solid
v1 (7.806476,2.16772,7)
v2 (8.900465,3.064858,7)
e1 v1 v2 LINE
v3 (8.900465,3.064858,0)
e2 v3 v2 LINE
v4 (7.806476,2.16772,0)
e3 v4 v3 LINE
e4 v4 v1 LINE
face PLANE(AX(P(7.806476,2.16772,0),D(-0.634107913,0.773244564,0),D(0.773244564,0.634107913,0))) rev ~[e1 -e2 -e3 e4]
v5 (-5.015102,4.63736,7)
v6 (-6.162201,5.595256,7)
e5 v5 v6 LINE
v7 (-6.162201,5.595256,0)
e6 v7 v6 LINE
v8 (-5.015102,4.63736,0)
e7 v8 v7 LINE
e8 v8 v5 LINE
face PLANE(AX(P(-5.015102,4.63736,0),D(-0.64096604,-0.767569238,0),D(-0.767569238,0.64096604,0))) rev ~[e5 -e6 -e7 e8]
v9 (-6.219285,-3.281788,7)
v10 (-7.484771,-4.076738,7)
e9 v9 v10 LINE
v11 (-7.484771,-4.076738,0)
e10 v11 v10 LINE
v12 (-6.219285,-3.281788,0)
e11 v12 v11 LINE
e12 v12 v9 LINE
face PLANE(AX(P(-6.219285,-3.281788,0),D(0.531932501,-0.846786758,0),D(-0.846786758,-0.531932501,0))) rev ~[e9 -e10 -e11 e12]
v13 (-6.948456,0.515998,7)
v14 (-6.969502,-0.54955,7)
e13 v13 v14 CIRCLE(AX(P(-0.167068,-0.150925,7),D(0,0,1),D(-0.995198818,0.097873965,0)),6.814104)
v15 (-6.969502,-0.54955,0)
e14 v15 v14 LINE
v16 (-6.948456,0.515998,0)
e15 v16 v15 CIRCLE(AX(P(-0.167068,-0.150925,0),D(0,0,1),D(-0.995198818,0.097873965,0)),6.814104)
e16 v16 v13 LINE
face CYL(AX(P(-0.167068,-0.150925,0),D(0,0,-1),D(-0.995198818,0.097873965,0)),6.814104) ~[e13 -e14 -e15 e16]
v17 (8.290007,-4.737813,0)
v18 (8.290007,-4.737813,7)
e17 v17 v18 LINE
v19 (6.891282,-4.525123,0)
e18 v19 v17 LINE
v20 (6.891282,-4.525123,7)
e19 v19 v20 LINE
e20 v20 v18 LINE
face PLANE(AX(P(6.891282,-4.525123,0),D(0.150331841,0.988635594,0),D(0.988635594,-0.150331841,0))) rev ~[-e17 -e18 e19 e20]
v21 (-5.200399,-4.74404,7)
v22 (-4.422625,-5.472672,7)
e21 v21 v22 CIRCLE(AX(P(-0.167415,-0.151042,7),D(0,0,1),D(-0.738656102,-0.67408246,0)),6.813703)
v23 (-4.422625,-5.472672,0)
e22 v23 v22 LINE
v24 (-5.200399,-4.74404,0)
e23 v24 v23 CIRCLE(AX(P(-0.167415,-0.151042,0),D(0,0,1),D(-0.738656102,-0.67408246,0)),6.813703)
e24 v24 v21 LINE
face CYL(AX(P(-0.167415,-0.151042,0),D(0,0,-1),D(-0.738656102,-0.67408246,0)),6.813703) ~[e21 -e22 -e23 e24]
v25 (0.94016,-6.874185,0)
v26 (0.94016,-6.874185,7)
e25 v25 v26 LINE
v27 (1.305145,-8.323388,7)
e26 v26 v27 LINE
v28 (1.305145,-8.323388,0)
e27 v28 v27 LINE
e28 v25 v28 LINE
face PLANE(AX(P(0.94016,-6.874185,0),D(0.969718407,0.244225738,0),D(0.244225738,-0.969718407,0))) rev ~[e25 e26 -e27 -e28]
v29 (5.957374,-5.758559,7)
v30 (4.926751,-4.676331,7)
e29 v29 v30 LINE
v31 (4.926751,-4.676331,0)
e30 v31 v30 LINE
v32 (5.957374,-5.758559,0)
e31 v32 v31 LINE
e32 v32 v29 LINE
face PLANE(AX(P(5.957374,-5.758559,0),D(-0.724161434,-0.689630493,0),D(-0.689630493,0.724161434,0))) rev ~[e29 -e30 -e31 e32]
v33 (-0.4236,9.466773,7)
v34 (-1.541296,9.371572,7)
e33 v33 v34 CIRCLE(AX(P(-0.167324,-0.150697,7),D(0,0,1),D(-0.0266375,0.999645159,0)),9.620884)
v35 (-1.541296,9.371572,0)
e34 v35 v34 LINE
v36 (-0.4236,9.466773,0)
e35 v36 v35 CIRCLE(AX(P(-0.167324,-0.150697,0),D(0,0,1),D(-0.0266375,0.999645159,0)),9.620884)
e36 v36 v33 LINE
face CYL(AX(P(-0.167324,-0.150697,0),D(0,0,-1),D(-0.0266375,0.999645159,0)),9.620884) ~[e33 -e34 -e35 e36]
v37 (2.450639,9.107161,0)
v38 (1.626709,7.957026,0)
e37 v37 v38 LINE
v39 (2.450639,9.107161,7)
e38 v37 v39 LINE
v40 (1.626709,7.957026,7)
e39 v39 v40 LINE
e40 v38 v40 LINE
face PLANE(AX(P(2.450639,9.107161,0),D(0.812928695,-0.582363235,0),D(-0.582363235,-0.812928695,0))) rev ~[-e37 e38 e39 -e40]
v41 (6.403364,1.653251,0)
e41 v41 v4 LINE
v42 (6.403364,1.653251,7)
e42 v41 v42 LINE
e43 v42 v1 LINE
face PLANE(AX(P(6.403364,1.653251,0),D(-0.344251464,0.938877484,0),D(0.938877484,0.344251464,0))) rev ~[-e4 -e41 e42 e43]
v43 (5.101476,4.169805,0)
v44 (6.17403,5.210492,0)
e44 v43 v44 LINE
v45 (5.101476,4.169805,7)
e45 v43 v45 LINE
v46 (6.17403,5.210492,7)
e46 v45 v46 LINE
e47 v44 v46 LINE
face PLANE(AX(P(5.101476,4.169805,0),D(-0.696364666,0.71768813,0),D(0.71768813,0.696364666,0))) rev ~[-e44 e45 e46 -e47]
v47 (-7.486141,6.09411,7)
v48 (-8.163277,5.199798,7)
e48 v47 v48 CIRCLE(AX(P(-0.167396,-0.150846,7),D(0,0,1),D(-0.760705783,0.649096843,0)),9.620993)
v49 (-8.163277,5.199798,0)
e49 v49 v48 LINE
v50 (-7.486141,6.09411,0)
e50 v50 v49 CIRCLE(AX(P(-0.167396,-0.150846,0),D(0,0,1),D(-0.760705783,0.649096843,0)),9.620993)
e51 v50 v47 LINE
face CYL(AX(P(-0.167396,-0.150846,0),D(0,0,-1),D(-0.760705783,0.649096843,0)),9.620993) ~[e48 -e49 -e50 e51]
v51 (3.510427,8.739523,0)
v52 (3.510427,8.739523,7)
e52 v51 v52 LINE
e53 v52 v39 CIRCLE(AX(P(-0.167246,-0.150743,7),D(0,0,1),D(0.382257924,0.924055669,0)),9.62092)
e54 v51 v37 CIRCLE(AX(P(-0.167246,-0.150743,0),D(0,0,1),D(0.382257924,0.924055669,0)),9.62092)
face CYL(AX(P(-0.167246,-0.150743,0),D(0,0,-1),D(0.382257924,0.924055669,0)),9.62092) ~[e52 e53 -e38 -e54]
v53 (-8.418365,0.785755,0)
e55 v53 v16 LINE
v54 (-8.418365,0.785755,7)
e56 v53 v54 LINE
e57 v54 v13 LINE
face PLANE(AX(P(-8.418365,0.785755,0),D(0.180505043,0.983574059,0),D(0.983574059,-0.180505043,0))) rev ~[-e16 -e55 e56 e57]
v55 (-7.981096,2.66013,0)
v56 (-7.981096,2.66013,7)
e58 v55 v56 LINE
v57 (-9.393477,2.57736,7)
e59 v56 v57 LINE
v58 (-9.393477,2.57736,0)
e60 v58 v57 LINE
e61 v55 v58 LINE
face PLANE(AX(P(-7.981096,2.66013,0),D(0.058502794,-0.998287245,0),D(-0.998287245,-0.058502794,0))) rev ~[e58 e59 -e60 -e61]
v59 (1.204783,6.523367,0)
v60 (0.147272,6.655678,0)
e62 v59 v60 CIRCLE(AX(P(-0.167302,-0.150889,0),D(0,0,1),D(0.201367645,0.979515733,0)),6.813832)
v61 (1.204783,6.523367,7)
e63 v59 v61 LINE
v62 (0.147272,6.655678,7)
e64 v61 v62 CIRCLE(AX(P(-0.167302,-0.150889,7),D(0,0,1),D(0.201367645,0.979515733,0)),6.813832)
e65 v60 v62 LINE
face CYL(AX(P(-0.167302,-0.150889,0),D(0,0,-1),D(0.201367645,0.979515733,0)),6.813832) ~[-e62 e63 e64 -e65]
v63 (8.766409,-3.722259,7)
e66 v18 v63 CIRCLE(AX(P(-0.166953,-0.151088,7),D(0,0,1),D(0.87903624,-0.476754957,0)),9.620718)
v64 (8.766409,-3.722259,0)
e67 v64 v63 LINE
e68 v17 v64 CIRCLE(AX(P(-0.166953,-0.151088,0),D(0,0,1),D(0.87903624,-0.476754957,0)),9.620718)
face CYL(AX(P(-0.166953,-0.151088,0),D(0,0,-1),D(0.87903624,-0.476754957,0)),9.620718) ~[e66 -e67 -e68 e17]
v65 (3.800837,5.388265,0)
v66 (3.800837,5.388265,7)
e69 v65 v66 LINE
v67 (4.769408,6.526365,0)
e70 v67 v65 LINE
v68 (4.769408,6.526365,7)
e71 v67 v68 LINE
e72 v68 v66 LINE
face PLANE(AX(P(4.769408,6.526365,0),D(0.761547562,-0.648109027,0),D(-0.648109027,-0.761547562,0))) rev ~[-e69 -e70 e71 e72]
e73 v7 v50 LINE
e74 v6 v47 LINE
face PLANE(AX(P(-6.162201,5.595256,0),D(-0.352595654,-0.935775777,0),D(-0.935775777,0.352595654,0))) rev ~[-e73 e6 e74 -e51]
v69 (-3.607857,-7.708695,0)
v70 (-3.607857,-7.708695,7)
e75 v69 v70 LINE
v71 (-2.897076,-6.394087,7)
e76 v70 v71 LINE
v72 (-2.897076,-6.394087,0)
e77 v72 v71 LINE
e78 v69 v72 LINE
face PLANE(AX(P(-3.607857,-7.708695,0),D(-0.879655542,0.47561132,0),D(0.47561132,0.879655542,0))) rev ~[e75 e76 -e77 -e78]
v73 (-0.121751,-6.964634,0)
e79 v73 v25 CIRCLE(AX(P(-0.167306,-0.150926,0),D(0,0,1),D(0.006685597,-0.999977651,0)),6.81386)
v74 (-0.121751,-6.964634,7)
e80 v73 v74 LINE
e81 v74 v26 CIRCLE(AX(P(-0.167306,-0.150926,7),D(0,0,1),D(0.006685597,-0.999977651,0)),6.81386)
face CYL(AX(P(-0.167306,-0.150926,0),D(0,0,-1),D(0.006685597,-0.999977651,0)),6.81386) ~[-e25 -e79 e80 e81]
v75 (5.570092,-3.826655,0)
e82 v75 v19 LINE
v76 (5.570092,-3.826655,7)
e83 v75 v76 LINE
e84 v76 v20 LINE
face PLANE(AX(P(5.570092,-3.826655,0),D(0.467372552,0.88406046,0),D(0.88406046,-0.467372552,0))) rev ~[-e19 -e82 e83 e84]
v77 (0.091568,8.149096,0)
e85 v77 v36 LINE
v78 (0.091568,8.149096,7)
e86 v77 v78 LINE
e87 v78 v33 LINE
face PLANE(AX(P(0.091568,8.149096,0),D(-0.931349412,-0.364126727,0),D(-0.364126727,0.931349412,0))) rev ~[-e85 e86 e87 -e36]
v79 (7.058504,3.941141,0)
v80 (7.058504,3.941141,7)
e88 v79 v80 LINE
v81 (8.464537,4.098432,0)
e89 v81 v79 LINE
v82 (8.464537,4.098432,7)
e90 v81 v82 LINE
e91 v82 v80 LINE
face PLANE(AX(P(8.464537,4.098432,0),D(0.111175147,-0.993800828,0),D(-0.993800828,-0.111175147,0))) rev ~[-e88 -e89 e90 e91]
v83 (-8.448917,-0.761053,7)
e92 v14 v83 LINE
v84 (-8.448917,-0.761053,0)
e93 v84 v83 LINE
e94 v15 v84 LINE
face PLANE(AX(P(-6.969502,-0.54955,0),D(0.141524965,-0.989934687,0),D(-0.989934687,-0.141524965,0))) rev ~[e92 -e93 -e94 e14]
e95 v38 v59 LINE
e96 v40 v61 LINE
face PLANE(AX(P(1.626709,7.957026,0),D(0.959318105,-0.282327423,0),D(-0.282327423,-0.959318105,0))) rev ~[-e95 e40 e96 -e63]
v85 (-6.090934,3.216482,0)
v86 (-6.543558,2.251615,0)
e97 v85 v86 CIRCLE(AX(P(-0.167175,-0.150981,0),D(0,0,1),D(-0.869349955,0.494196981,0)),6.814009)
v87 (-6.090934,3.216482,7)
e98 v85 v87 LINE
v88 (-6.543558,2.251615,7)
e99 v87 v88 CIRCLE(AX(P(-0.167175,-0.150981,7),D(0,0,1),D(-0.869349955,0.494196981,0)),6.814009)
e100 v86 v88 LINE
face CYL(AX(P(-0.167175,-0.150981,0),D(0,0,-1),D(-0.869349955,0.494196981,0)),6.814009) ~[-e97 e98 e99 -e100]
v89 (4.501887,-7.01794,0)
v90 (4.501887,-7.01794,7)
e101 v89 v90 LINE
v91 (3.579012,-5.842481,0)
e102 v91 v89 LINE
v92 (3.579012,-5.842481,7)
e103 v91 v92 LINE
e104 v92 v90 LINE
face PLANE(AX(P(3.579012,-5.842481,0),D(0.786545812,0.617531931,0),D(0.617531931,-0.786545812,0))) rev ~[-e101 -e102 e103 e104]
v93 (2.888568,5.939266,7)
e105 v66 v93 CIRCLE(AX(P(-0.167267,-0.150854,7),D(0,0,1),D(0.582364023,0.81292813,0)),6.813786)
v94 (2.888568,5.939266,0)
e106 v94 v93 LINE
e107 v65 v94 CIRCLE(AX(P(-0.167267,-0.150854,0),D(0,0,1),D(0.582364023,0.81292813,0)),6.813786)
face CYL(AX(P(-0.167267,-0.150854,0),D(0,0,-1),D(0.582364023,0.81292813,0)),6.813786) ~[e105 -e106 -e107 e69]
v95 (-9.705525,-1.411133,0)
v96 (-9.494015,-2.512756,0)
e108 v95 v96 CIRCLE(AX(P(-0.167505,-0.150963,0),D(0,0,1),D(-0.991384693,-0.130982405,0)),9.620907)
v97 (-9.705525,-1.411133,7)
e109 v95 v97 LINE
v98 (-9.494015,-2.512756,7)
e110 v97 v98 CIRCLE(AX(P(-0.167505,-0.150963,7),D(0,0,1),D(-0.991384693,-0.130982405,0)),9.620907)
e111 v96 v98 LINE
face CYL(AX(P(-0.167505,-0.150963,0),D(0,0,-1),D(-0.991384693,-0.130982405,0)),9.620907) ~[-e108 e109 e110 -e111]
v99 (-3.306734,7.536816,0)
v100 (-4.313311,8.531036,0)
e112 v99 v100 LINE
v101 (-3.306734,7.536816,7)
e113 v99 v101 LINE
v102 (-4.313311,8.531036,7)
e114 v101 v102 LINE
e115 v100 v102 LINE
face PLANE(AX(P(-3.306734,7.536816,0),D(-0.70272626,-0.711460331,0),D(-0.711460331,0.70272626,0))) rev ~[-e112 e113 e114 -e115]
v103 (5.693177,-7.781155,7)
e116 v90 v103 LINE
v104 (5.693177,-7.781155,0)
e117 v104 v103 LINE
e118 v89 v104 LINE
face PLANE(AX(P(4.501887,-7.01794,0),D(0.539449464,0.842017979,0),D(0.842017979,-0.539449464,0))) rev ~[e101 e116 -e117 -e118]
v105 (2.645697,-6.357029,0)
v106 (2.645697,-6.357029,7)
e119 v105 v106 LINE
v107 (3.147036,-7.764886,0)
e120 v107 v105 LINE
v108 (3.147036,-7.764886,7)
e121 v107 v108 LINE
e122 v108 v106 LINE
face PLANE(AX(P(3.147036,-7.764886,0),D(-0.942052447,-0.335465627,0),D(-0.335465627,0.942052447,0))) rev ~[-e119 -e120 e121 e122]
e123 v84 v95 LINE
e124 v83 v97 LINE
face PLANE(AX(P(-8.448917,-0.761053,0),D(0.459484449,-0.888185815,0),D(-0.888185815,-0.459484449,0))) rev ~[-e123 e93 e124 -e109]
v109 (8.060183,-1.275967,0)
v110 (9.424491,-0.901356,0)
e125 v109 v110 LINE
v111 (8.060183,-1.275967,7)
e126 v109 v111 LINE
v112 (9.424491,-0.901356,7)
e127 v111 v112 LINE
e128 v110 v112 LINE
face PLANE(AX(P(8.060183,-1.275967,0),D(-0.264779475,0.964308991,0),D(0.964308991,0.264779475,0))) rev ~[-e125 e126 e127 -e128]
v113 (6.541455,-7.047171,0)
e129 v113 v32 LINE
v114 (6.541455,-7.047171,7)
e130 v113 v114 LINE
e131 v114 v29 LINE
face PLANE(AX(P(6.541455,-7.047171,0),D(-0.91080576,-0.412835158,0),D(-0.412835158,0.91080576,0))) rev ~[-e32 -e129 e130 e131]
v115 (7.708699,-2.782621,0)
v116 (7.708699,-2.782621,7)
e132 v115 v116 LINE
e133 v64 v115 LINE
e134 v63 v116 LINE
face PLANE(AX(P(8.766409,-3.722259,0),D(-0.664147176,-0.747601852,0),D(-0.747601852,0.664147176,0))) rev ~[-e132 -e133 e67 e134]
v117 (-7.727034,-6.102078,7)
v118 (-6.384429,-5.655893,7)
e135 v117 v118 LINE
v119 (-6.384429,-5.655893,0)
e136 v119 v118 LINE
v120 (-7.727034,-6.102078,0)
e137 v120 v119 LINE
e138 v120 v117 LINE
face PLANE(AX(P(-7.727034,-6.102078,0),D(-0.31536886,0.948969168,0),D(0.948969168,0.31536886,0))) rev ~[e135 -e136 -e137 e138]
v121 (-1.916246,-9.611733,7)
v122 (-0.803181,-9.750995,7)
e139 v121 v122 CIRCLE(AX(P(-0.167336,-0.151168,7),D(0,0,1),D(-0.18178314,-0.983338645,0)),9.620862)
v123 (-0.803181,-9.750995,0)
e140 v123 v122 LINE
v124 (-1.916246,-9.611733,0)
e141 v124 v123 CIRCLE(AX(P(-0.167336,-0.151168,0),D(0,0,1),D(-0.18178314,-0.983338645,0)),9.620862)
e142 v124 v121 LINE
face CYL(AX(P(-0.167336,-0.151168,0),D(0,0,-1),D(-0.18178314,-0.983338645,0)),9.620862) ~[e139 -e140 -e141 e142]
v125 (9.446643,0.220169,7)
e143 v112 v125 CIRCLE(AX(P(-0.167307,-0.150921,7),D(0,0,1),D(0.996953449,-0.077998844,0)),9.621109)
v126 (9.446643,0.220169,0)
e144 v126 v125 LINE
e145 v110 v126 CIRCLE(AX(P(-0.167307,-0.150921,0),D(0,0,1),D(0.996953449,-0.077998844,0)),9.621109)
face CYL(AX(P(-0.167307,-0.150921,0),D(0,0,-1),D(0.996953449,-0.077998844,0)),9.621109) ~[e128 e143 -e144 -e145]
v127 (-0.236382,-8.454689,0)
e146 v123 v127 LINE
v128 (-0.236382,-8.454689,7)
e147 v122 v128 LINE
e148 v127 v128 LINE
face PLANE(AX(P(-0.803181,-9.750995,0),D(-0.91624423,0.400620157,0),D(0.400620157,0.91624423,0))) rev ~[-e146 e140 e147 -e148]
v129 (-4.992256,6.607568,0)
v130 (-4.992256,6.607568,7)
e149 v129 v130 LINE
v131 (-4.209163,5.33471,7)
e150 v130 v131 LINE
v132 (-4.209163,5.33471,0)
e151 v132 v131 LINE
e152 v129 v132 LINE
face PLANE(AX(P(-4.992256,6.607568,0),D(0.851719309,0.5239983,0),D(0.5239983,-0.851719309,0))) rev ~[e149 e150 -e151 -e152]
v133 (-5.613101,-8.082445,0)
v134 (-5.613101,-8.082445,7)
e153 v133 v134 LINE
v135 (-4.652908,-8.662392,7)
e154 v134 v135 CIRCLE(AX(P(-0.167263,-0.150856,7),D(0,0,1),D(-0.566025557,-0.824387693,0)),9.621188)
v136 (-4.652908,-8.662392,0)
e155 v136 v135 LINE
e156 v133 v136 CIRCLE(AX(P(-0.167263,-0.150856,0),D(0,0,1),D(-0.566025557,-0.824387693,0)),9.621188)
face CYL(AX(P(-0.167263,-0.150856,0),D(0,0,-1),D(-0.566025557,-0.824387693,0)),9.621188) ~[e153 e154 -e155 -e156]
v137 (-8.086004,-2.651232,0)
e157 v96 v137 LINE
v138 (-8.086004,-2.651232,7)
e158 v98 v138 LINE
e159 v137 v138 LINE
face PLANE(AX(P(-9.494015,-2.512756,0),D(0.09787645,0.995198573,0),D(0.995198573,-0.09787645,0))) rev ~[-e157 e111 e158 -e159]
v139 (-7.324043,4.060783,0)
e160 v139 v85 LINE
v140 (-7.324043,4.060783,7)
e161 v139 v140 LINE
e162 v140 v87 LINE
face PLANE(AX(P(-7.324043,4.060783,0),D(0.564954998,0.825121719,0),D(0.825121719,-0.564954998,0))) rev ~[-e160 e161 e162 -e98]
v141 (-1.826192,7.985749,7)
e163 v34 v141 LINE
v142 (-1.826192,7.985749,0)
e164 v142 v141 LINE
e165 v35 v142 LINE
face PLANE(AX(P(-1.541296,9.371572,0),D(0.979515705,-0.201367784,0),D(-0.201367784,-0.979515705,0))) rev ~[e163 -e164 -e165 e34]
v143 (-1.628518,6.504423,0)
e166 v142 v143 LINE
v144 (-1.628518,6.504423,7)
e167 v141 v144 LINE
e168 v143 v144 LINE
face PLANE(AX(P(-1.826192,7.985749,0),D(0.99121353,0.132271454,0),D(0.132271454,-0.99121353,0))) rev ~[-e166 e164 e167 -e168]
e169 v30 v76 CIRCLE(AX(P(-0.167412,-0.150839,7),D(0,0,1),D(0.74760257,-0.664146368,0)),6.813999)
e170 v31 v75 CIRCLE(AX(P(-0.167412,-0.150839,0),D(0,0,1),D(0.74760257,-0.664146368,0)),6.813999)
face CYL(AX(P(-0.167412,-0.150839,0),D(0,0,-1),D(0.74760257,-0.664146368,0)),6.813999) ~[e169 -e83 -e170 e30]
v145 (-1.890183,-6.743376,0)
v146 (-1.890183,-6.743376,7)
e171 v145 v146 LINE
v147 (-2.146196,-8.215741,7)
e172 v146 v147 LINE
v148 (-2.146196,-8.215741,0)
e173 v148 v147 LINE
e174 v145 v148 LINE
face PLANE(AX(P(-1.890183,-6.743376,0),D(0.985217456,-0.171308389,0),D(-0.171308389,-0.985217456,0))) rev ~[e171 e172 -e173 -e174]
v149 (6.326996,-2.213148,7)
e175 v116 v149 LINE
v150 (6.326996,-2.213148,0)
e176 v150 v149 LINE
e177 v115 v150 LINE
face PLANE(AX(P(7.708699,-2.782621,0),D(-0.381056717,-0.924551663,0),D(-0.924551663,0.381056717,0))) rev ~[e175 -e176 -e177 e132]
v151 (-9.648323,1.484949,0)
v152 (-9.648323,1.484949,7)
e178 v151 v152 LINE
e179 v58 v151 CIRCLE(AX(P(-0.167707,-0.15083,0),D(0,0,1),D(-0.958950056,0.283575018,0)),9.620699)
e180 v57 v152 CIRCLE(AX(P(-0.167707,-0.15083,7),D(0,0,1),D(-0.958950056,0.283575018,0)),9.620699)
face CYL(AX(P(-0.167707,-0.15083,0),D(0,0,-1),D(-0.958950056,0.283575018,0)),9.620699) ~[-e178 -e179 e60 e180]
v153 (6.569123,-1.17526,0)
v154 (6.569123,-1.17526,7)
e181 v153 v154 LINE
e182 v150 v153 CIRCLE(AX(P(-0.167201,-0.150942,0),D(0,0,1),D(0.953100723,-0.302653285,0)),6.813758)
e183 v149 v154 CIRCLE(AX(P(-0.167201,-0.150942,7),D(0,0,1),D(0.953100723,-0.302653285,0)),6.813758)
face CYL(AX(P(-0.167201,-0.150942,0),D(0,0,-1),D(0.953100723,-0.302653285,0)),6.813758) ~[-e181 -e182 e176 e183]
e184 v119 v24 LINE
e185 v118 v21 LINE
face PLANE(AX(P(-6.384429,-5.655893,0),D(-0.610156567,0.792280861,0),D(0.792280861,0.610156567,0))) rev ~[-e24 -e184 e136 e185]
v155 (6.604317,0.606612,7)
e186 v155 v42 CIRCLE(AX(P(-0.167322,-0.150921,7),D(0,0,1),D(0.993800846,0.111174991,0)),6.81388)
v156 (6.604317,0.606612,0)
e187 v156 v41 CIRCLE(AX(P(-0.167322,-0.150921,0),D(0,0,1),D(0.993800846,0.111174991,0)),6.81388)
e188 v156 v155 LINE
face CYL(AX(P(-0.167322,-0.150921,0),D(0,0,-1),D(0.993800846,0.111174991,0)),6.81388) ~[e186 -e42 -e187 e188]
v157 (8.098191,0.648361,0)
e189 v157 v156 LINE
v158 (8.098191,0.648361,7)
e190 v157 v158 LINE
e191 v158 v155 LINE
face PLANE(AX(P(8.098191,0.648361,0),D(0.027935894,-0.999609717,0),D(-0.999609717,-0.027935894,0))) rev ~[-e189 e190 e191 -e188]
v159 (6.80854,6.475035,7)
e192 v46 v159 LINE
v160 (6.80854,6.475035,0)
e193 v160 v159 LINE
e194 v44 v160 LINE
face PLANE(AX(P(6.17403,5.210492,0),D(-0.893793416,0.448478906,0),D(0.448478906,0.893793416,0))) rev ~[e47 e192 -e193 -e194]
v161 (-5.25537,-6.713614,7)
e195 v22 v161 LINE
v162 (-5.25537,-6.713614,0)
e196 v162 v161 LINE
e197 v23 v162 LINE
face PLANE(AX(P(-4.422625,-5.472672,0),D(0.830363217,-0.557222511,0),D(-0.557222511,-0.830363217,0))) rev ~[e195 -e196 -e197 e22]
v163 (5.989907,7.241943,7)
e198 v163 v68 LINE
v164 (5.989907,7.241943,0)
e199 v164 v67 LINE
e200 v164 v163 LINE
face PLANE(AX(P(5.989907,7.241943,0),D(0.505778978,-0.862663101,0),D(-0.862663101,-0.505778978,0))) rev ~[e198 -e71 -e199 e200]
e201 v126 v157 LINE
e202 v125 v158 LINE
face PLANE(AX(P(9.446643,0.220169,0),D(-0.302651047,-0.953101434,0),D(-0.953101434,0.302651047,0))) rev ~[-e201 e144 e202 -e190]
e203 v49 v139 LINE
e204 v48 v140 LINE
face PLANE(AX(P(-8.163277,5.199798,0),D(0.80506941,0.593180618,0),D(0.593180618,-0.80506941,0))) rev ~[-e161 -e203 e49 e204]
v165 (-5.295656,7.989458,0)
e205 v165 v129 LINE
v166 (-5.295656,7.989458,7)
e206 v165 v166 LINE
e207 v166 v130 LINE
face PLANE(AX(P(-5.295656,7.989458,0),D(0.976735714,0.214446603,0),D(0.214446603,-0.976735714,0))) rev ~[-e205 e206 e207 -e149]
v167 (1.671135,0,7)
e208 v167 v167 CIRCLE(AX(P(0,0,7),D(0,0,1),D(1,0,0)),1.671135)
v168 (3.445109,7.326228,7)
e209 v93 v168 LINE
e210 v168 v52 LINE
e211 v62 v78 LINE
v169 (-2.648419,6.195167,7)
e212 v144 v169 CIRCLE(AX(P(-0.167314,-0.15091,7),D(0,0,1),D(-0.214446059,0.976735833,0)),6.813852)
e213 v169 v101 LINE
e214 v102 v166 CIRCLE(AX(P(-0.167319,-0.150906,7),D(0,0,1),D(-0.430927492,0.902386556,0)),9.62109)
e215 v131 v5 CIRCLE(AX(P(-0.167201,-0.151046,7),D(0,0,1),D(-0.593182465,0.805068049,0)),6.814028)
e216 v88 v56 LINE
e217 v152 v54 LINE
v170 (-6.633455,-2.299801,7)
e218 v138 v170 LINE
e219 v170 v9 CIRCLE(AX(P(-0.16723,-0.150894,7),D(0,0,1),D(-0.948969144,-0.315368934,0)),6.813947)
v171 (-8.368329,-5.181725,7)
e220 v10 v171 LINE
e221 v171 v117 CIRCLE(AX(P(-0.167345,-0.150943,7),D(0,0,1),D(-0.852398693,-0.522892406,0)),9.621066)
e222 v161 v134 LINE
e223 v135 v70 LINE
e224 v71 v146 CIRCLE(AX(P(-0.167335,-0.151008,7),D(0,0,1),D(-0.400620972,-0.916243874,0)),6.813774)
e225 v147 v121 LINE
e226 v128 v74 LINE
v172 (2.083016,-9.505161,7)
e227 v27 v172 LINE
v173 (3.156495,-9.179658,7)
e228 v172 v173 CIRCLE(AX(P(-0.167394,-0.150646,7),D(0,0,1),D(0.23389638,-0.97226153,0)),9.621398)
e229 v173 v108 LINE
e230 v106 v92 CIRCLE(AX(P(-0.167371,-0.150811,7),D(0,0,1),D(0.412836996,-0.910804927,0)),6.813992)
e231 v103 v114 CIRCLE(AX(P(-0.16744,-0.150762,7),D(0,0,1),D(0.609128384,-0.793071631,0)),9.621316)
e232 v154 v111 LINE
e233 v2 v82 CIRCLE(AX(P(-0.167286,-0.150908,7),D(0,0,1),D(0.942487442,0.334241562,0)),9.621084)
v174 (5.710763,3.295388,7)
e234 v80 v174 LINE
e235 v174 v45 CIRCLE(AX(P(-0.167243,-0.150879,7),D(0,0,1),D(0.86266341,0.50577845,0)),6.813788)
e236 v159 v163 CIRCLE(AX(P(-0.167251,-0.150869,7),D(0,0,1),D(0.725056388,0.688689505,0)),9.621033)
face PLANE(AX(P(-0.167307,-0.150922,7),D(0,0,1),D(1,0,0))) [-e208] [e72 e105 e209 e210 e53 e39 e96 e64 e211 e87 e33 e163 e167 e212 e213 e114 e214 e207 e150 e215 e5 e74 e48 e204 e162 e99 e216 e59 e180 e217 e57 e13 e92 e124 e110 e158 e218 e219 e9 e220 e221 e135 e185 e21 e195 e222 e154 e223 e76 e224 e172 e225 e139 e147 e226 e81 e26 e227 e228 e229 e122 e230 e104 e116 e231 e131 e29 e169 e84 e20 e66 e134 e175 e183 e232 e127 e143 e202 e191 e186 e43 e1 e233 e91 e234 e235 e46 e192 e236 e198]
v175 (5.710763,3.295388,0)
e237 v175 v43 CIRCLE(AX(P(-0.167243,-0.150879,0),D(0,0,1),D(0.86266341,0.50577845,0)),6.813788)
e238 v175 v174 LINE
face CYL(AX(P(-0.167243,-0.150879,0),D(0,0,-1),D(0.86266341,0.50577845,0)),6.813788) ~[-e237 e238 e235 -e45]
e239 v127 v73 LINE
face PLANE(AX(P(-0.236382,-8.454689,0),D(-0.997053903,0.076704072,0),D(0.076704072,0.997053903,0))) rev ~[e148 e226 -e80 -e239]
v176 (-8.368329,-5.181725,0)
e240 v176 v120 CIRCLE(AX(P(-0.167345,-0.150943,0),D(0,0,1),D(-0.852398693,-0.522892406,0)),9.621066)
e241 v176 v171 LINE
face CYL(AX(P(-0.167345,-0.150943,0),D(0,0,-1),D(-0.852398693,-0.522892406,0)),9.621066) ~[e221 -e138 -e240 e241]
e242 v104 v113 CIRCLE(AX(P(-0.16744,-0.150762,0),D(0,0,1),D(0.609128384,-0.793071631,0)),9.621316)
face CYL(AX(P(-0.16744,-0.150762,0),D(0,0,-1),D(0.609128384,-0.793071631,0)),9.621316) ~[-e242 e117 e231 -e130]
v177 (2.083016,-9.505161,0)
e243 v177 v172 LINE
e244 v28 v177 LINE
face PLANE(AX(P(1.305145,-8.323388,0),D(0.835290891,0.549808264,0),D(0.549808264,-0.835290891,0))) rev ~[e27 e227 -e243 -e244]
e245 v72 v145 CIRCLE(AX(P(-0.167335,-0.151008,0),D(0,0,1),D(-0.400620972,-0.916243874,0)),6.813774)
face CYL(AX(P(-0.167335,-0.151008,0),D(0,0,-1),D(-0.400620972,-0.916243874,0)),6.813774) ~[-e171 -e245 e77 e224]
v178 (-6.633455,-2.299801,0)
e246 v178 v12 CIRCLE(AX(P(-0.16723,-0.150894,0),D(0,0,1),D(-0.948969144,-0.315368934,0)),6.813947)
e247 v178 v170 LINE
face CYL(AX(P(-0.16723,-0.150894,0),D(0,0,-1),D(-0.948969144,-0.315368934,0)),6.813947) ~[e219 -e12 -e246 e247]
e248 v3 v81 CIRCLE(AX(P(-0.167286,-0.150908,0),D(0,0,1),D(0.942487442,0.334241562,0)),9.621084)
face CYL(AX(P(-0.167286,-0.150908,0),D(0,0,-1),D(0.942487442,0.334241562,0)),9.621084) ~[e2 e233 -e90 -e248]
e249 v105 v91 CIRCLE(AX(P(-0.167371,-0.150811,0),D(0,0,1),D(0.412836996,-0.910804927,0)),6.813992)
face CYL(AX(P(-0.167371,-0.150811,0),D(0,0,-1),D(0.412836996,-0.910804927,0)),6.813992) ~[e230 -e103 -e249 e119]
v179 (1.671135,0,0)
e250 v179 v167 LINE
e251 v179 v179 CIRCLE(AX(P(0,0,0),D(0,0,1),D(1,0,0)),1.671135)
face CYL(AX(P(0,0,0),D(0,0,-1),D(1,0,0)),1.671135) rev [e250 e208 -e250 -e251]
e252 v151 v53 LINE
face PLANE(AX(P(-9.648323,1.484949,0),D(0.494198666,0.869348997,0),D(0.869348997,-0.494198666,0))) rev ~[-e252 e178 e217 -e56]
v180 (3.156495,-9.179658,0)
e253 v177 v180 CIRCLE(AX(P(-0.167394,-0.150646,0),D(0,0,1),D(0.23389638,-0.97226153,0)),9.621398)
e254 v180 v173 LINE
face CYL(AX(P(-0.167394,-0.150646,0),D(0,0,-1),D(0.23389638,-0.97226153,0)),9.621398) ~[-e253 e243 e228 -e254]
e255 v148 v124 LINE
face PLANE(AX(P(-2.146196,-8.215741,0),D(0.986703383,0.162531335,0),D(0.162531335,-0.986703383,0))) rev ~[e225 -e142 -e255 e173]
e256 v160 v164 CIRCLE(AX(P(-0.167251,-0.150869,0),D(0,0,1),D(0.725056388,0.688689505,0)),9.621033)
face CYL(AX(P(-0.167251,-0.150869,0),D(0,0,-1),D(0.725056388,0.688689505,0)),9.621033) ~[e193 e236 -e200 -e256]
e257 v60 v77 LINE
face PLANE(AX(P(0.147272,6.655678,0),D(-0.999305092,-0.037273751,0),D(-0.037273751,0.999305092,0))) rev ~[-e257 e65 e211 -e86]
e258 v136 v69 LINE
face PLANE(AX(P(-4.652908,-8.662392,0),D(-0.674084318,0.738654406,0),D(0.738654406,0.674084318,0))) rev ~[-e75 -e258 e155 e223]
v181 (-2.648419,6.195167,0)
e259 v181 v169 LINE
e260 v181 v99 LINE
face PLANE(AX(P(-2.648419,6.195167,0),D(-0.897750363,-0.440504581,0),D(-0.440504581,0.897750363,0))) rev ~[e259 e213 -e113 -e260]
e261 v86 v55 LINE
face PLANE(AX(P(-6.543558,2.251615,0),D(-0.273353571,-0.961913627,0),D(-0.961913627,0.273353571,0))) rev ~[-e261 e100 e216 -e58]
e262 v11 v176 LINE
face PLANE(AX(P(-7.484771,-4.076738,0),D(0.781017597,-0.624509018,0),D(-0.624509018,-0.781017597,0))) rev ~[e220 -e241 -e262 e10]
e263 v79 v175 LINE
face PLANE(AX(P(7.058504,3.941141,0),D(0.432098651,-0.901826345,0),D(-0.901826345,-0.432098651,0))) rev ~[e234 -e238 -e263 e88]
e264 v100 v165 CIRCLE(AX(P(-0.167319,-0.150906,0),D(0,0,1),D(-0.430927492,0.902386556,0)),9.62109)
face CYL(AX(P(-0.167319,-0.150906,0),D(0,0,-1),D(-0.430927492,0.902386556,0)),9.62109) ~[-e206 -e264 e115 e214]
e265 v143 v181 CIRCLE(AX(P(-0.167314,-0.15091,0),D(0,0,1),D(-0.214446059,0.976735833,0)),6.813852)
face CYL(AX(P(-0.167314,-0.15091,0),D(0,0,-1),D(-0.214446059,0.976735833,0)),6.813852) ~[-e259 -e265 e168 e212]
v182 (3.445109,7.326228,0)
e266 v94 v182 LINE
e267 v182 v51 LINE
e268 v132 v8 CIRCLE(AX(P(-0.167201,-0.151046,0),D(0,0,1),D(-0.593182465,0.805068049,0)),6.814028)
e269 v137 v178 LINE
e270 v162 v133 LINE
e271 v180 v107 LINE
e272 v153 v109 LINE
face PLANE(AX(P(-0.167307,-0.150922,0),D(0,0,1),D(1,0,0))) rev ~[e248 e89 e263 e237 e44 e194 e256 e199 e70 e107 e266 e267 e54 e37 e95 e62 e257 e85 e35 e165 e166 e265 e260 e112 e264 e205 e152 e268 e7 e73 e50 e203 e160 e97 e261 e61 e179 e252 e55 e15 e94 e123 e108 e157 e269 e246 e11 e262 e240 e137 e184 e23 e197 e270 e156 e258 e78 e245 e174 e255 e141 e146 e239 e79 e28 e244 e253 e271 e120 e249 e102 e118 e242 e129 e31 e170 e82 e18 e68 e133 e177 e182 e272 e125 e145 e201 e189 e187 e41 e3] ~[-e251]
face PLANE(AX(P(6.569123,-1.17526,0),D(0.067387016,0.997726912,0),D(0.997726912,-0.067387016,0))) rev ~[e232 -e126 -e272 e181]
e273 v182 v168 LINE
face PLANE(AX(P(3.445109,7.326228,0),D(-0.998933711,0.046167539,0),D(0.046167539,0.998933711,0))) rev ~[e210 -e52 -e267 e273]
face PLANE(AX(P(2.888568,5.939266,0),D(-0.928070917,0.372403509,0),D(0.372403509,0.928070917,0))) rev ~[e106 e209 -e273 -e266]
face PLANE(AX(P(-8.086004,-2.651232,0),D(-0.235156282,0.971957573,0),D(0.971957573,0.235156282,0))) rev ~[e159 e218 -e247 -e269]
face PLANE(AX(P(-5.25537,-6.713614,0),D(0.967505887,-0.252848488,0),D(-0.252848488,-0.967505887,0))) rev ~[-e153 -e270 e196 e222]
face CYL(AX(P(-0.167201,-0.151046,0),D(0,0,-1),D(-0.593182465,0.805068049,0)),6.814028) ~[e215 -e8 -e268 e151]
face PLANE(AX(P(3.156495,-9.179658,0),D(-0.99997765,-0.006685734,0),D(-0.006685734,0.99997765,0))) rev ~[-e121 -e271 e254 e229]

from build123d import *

# Parameters (mm, degrees)
F0_R     = 1.671135
F1_DEPTH = 7


with BuildPart() as f1:
    # F0 (on Top) → F1 (new body)
    with BuildSketch(Plane.XY):
        with BuildLine():
            ThreePointArc((5.710763, 3.295388), (5.423242, 3.744527), (5.101476, 4.169805))
            Line((5.101476, 4.169805), (6.17403, 5.210492))
            Line((6.17403, 5.210492), (6.80854, 6.475035))
            ThreePointArc((6.80854, 6.475035), (6.41041, 6.87043), (5.989907, 7.241943))
            Line((5.989907, 7.241943), (4.769408, 6.526365))
            Line((4.769408, 6.526365), (3.800837, 5.388265))
            ThreePointArc((3.800837, 5.388265), (3.355492, 5.681629), (2.888568, 5.939266))
            Line((2.888568, 5.939266), (3.445109, 7.326228))
            Line((3.445109, 7.326228), (3.510427, 8.739523))
            ThreePointArc((3.510427, 8.739523), (2.985895, 8.938801), (2.450639, 9.107161))
            Line((2.450639, 9.107161), (1.626709, 7.957026))
            Line((1.626709, 7.957026), (1.204783, 6.523367))
            ThreePointArc((1.204783, 6.523367), (0.678618, 6.61023), (0.147272, 6.655678))
            Line((0.147272, 6.655678), (0.091568, 8.149096))
            Line((0.091568, 8.149096), (-0.4236, 9.466773))
            ThreePointArc((-0.4236, 9.466773), (-0.983837, 9.435476), (-1.541296, 9.371572))
            Line((-1.541296, 9.371572), (-1.826192, 7.985749))
            Line((-1.826192, 7.985749), (-1.628518, 6.504423))
            ThreePointArc((-1.628518, 6.504423), (-2.144524, 6.369766), (-2.648419, 6.195167))
            Line((-2.648419, 6.195167), (-3.306734, 7.536816))
            Line((-3.306734, 7.536816), (-4.313311, 8.531036))
            ThreePointArc((-4.313311, 8.531036), (-4.812383, 8.274576), (-5.295656, 7.989458))
            Line((-5.295656, 7.989458), (-4.992256, 6.607568))
            Line((-4.992256, 6.607568), (-4.209163, 5.33471))
            ThreePointArc((-4.209163, 5.33471), (-4.625787, 5.001816), (-5.015102, 4.63736))
            Line((-5.015102, 4.63736), (-6.162201, 5.595256))
            Line((-6.162201, 5.595256), (-7.486141, 6.09411))
            ThreePointArc((-7.486141, 6.09411), (-7.837754, 5.656831), (-8.163277, 5.199798))
            Line((-8.163277, 5.199798), (-7.324043, 4.060783))
            Line((-7.324043, 4.060783), (-6.090934, 3.216482))
            ThreePointArc((-6.090934, 3.216482), (-6.336139, 2.742911), (-6.543558, 2.251615))
            Line((-6.543558, 2.251615), (-7.981096, 2.66013))
            Line((-7.981096, 2.66013), (-9.393477, 2.57736))
            ThreePointArc((-9.393477, 2.57736), (-9.536835, 2.034872), (-9.648323, 1.484949))
            Line((-9.648323, 1.484949), (-8.418365, 0.785755))
            Line((-8.418365, 0.785755), (-6.948456, 0.515998))
            ThreePointArc((-6.948456, 0.515998), (-6.979843, -0.016364), (-6.969502, -0.54955))
            Line((-6.969502, -0.54955), (-8.448917, -0.761053))
            Line((-8.448917, -0.761053), (-9.705525, -1.411133))
            ThreePointArc((-9.705525, -1.411133), (-9.615839, -1.96503), (-9.494015, -2.512756))
            Line((-9.494015, -2.512756), (-8.086004, -2.651232))
            Line((-8.086004, -2.651232), (-6.633455, -2.299801))
            ThreePointArc((-6.633455, -2.299801), (-6.445598, -2.798905), (-6.219285, -3.281788))
            Line((-6.219285, -3.281788), (-7.484771, -4.076738))
            Line((-7.484771, -4.076738), (-8.368329, -5.181725))
            ThreePointArc((-8.368329, -5.181725), (-8.061106, -5.651256), (-7.727034, -6.102078))
            Line((-7.727034, -6.102078), (-6.384429, -5.655893))
            Line((-6.384429, -5.655893), (-5.200399, -4.74404))
            ThreePointArc((-5.200399, -4.74404), (-4.82578, -5.123586), (-4.422625, -5.472672))
            Line((-4.422625, -5.472672), (-5.25537, -6.713614))
            Line((-5.25537, -6.713614), (-5.613101, -8.082445))
            ThreePointArc((-5.613101, -8.082445), (-5.141464, -8.386424), (-4.652908, -8.662392))
            Line((-4.652908, -8.662392), (-3.607857, -7.708695))
            Line((-3.607857, -7.708695), (-2.897076, -6.394087))
            ThreePointArc((-2.897076, -6.394087), (-2.400469, -6.588448), (-1.890183, -6.743376))
            Line((-1.890183, -6.743376), (-2.146196, -8.215741))
            Line((-2.146196, -8.215741), (-1.916246, -9.611733))
            ThreePointArc((-1.916246, -9.611733), (-1.361745, -9.6976), (-0.803181, -9.750995))
            Line((-0.803181, -9.750995), (-0.236382, -8.454689))
            Line((-0.236382, -8.454689), (-0.121751, -6.964634))
            ThreePointArc((-0.121751, -6.964634), (0.410976, -6.940203), (0.94016, -6.874185))
            Line((0.94016, -6.874185), (1.305145, -8.323388))
            Line((1.305145, -8.323388), (2.083016, -9.505161))
            ThreePointArc((2.083016, -9.505161), (2.624504, -9.358067), (3.156495, -9.179658))
            Line((3.156495, -9.179658), (3.147036, -7.764886))
            Line((3.147036, -7.764886), (2.645697, -6.357029))
            ThreePointArc((2.645697, -6.357029), (3.12243, -6.11803), (3.579012, -5.842481))
            Line((3.579012, -5.842481), (4.501887, -7.01794))
            Line((4.501887, -7.01794), (5.693177, -7.781155))
            ThreePointArc((5.693177, -7.781155), (6.128022, -7.426536), (6.541455, -7.047171))
            Line((6.541455, -7.047171), (5.957374, -5.758559))
            Line((5.957374, -5.758559), (4.926751, -4.676331))
            ThreePointArc((4.926751, -4.676331), (5.265059, -4.26409), (5.570092, -3.826655))
            Line((5.570092, -3.826655), (6.891282, -4.525123))
            Line((6.891282, -4.525123), (8.290007, -4.737813))
            ThreePointArc((8.290007, -4.737813), (8.543022, -4.236985), (8.766409, -3.722259))
            Line((8.766409, -3.722259), (7.708699, -2.782621))
            Line((7.708699, -2.782621), (6.326996, -2.213148))
            ThreePointArc((6.326996, -2.213148), (6.468383, -1.698945), (6.569123, -1.17526))
            Line((6.569123, -1.17526), (8.060183, -1.275967))
            Line((8.060183, -1.275967), (9.424491, -0.901356))
            ThreePointArc((9.424491, -0.901356), (9.451926, -0.340917), (9.446643, 0.220169))
            Line((9.446643, 0.220169), (8.098191, 0.648361))
            Line((8.098191, 0.648361), (6.604317, 0.606612))
            ThreePointArc((6.604317, 0.606612), (6.524335, 1.133866), (6.403364, 1.653251))
            Line((6.403364, 1.653251), (7.806476, 2.16772))
            Line((7.806476, 2.16772), (8.900465, 3.064858))
            ThreePointArc((8.900465, 3.064858), (8.697577, 3.588004), (8.464537, 4.098432))
            Line((8.464537, 4.098432), (7.058504, 3.941141))
            Line((7.058504, 3.941141), (5.710763, 3.295388))
        make_face()
        Circle(F0_R, mode=Mode.SUBTRACT)
    extrude(amount=F1_DEPTH)


solid = f1.part
